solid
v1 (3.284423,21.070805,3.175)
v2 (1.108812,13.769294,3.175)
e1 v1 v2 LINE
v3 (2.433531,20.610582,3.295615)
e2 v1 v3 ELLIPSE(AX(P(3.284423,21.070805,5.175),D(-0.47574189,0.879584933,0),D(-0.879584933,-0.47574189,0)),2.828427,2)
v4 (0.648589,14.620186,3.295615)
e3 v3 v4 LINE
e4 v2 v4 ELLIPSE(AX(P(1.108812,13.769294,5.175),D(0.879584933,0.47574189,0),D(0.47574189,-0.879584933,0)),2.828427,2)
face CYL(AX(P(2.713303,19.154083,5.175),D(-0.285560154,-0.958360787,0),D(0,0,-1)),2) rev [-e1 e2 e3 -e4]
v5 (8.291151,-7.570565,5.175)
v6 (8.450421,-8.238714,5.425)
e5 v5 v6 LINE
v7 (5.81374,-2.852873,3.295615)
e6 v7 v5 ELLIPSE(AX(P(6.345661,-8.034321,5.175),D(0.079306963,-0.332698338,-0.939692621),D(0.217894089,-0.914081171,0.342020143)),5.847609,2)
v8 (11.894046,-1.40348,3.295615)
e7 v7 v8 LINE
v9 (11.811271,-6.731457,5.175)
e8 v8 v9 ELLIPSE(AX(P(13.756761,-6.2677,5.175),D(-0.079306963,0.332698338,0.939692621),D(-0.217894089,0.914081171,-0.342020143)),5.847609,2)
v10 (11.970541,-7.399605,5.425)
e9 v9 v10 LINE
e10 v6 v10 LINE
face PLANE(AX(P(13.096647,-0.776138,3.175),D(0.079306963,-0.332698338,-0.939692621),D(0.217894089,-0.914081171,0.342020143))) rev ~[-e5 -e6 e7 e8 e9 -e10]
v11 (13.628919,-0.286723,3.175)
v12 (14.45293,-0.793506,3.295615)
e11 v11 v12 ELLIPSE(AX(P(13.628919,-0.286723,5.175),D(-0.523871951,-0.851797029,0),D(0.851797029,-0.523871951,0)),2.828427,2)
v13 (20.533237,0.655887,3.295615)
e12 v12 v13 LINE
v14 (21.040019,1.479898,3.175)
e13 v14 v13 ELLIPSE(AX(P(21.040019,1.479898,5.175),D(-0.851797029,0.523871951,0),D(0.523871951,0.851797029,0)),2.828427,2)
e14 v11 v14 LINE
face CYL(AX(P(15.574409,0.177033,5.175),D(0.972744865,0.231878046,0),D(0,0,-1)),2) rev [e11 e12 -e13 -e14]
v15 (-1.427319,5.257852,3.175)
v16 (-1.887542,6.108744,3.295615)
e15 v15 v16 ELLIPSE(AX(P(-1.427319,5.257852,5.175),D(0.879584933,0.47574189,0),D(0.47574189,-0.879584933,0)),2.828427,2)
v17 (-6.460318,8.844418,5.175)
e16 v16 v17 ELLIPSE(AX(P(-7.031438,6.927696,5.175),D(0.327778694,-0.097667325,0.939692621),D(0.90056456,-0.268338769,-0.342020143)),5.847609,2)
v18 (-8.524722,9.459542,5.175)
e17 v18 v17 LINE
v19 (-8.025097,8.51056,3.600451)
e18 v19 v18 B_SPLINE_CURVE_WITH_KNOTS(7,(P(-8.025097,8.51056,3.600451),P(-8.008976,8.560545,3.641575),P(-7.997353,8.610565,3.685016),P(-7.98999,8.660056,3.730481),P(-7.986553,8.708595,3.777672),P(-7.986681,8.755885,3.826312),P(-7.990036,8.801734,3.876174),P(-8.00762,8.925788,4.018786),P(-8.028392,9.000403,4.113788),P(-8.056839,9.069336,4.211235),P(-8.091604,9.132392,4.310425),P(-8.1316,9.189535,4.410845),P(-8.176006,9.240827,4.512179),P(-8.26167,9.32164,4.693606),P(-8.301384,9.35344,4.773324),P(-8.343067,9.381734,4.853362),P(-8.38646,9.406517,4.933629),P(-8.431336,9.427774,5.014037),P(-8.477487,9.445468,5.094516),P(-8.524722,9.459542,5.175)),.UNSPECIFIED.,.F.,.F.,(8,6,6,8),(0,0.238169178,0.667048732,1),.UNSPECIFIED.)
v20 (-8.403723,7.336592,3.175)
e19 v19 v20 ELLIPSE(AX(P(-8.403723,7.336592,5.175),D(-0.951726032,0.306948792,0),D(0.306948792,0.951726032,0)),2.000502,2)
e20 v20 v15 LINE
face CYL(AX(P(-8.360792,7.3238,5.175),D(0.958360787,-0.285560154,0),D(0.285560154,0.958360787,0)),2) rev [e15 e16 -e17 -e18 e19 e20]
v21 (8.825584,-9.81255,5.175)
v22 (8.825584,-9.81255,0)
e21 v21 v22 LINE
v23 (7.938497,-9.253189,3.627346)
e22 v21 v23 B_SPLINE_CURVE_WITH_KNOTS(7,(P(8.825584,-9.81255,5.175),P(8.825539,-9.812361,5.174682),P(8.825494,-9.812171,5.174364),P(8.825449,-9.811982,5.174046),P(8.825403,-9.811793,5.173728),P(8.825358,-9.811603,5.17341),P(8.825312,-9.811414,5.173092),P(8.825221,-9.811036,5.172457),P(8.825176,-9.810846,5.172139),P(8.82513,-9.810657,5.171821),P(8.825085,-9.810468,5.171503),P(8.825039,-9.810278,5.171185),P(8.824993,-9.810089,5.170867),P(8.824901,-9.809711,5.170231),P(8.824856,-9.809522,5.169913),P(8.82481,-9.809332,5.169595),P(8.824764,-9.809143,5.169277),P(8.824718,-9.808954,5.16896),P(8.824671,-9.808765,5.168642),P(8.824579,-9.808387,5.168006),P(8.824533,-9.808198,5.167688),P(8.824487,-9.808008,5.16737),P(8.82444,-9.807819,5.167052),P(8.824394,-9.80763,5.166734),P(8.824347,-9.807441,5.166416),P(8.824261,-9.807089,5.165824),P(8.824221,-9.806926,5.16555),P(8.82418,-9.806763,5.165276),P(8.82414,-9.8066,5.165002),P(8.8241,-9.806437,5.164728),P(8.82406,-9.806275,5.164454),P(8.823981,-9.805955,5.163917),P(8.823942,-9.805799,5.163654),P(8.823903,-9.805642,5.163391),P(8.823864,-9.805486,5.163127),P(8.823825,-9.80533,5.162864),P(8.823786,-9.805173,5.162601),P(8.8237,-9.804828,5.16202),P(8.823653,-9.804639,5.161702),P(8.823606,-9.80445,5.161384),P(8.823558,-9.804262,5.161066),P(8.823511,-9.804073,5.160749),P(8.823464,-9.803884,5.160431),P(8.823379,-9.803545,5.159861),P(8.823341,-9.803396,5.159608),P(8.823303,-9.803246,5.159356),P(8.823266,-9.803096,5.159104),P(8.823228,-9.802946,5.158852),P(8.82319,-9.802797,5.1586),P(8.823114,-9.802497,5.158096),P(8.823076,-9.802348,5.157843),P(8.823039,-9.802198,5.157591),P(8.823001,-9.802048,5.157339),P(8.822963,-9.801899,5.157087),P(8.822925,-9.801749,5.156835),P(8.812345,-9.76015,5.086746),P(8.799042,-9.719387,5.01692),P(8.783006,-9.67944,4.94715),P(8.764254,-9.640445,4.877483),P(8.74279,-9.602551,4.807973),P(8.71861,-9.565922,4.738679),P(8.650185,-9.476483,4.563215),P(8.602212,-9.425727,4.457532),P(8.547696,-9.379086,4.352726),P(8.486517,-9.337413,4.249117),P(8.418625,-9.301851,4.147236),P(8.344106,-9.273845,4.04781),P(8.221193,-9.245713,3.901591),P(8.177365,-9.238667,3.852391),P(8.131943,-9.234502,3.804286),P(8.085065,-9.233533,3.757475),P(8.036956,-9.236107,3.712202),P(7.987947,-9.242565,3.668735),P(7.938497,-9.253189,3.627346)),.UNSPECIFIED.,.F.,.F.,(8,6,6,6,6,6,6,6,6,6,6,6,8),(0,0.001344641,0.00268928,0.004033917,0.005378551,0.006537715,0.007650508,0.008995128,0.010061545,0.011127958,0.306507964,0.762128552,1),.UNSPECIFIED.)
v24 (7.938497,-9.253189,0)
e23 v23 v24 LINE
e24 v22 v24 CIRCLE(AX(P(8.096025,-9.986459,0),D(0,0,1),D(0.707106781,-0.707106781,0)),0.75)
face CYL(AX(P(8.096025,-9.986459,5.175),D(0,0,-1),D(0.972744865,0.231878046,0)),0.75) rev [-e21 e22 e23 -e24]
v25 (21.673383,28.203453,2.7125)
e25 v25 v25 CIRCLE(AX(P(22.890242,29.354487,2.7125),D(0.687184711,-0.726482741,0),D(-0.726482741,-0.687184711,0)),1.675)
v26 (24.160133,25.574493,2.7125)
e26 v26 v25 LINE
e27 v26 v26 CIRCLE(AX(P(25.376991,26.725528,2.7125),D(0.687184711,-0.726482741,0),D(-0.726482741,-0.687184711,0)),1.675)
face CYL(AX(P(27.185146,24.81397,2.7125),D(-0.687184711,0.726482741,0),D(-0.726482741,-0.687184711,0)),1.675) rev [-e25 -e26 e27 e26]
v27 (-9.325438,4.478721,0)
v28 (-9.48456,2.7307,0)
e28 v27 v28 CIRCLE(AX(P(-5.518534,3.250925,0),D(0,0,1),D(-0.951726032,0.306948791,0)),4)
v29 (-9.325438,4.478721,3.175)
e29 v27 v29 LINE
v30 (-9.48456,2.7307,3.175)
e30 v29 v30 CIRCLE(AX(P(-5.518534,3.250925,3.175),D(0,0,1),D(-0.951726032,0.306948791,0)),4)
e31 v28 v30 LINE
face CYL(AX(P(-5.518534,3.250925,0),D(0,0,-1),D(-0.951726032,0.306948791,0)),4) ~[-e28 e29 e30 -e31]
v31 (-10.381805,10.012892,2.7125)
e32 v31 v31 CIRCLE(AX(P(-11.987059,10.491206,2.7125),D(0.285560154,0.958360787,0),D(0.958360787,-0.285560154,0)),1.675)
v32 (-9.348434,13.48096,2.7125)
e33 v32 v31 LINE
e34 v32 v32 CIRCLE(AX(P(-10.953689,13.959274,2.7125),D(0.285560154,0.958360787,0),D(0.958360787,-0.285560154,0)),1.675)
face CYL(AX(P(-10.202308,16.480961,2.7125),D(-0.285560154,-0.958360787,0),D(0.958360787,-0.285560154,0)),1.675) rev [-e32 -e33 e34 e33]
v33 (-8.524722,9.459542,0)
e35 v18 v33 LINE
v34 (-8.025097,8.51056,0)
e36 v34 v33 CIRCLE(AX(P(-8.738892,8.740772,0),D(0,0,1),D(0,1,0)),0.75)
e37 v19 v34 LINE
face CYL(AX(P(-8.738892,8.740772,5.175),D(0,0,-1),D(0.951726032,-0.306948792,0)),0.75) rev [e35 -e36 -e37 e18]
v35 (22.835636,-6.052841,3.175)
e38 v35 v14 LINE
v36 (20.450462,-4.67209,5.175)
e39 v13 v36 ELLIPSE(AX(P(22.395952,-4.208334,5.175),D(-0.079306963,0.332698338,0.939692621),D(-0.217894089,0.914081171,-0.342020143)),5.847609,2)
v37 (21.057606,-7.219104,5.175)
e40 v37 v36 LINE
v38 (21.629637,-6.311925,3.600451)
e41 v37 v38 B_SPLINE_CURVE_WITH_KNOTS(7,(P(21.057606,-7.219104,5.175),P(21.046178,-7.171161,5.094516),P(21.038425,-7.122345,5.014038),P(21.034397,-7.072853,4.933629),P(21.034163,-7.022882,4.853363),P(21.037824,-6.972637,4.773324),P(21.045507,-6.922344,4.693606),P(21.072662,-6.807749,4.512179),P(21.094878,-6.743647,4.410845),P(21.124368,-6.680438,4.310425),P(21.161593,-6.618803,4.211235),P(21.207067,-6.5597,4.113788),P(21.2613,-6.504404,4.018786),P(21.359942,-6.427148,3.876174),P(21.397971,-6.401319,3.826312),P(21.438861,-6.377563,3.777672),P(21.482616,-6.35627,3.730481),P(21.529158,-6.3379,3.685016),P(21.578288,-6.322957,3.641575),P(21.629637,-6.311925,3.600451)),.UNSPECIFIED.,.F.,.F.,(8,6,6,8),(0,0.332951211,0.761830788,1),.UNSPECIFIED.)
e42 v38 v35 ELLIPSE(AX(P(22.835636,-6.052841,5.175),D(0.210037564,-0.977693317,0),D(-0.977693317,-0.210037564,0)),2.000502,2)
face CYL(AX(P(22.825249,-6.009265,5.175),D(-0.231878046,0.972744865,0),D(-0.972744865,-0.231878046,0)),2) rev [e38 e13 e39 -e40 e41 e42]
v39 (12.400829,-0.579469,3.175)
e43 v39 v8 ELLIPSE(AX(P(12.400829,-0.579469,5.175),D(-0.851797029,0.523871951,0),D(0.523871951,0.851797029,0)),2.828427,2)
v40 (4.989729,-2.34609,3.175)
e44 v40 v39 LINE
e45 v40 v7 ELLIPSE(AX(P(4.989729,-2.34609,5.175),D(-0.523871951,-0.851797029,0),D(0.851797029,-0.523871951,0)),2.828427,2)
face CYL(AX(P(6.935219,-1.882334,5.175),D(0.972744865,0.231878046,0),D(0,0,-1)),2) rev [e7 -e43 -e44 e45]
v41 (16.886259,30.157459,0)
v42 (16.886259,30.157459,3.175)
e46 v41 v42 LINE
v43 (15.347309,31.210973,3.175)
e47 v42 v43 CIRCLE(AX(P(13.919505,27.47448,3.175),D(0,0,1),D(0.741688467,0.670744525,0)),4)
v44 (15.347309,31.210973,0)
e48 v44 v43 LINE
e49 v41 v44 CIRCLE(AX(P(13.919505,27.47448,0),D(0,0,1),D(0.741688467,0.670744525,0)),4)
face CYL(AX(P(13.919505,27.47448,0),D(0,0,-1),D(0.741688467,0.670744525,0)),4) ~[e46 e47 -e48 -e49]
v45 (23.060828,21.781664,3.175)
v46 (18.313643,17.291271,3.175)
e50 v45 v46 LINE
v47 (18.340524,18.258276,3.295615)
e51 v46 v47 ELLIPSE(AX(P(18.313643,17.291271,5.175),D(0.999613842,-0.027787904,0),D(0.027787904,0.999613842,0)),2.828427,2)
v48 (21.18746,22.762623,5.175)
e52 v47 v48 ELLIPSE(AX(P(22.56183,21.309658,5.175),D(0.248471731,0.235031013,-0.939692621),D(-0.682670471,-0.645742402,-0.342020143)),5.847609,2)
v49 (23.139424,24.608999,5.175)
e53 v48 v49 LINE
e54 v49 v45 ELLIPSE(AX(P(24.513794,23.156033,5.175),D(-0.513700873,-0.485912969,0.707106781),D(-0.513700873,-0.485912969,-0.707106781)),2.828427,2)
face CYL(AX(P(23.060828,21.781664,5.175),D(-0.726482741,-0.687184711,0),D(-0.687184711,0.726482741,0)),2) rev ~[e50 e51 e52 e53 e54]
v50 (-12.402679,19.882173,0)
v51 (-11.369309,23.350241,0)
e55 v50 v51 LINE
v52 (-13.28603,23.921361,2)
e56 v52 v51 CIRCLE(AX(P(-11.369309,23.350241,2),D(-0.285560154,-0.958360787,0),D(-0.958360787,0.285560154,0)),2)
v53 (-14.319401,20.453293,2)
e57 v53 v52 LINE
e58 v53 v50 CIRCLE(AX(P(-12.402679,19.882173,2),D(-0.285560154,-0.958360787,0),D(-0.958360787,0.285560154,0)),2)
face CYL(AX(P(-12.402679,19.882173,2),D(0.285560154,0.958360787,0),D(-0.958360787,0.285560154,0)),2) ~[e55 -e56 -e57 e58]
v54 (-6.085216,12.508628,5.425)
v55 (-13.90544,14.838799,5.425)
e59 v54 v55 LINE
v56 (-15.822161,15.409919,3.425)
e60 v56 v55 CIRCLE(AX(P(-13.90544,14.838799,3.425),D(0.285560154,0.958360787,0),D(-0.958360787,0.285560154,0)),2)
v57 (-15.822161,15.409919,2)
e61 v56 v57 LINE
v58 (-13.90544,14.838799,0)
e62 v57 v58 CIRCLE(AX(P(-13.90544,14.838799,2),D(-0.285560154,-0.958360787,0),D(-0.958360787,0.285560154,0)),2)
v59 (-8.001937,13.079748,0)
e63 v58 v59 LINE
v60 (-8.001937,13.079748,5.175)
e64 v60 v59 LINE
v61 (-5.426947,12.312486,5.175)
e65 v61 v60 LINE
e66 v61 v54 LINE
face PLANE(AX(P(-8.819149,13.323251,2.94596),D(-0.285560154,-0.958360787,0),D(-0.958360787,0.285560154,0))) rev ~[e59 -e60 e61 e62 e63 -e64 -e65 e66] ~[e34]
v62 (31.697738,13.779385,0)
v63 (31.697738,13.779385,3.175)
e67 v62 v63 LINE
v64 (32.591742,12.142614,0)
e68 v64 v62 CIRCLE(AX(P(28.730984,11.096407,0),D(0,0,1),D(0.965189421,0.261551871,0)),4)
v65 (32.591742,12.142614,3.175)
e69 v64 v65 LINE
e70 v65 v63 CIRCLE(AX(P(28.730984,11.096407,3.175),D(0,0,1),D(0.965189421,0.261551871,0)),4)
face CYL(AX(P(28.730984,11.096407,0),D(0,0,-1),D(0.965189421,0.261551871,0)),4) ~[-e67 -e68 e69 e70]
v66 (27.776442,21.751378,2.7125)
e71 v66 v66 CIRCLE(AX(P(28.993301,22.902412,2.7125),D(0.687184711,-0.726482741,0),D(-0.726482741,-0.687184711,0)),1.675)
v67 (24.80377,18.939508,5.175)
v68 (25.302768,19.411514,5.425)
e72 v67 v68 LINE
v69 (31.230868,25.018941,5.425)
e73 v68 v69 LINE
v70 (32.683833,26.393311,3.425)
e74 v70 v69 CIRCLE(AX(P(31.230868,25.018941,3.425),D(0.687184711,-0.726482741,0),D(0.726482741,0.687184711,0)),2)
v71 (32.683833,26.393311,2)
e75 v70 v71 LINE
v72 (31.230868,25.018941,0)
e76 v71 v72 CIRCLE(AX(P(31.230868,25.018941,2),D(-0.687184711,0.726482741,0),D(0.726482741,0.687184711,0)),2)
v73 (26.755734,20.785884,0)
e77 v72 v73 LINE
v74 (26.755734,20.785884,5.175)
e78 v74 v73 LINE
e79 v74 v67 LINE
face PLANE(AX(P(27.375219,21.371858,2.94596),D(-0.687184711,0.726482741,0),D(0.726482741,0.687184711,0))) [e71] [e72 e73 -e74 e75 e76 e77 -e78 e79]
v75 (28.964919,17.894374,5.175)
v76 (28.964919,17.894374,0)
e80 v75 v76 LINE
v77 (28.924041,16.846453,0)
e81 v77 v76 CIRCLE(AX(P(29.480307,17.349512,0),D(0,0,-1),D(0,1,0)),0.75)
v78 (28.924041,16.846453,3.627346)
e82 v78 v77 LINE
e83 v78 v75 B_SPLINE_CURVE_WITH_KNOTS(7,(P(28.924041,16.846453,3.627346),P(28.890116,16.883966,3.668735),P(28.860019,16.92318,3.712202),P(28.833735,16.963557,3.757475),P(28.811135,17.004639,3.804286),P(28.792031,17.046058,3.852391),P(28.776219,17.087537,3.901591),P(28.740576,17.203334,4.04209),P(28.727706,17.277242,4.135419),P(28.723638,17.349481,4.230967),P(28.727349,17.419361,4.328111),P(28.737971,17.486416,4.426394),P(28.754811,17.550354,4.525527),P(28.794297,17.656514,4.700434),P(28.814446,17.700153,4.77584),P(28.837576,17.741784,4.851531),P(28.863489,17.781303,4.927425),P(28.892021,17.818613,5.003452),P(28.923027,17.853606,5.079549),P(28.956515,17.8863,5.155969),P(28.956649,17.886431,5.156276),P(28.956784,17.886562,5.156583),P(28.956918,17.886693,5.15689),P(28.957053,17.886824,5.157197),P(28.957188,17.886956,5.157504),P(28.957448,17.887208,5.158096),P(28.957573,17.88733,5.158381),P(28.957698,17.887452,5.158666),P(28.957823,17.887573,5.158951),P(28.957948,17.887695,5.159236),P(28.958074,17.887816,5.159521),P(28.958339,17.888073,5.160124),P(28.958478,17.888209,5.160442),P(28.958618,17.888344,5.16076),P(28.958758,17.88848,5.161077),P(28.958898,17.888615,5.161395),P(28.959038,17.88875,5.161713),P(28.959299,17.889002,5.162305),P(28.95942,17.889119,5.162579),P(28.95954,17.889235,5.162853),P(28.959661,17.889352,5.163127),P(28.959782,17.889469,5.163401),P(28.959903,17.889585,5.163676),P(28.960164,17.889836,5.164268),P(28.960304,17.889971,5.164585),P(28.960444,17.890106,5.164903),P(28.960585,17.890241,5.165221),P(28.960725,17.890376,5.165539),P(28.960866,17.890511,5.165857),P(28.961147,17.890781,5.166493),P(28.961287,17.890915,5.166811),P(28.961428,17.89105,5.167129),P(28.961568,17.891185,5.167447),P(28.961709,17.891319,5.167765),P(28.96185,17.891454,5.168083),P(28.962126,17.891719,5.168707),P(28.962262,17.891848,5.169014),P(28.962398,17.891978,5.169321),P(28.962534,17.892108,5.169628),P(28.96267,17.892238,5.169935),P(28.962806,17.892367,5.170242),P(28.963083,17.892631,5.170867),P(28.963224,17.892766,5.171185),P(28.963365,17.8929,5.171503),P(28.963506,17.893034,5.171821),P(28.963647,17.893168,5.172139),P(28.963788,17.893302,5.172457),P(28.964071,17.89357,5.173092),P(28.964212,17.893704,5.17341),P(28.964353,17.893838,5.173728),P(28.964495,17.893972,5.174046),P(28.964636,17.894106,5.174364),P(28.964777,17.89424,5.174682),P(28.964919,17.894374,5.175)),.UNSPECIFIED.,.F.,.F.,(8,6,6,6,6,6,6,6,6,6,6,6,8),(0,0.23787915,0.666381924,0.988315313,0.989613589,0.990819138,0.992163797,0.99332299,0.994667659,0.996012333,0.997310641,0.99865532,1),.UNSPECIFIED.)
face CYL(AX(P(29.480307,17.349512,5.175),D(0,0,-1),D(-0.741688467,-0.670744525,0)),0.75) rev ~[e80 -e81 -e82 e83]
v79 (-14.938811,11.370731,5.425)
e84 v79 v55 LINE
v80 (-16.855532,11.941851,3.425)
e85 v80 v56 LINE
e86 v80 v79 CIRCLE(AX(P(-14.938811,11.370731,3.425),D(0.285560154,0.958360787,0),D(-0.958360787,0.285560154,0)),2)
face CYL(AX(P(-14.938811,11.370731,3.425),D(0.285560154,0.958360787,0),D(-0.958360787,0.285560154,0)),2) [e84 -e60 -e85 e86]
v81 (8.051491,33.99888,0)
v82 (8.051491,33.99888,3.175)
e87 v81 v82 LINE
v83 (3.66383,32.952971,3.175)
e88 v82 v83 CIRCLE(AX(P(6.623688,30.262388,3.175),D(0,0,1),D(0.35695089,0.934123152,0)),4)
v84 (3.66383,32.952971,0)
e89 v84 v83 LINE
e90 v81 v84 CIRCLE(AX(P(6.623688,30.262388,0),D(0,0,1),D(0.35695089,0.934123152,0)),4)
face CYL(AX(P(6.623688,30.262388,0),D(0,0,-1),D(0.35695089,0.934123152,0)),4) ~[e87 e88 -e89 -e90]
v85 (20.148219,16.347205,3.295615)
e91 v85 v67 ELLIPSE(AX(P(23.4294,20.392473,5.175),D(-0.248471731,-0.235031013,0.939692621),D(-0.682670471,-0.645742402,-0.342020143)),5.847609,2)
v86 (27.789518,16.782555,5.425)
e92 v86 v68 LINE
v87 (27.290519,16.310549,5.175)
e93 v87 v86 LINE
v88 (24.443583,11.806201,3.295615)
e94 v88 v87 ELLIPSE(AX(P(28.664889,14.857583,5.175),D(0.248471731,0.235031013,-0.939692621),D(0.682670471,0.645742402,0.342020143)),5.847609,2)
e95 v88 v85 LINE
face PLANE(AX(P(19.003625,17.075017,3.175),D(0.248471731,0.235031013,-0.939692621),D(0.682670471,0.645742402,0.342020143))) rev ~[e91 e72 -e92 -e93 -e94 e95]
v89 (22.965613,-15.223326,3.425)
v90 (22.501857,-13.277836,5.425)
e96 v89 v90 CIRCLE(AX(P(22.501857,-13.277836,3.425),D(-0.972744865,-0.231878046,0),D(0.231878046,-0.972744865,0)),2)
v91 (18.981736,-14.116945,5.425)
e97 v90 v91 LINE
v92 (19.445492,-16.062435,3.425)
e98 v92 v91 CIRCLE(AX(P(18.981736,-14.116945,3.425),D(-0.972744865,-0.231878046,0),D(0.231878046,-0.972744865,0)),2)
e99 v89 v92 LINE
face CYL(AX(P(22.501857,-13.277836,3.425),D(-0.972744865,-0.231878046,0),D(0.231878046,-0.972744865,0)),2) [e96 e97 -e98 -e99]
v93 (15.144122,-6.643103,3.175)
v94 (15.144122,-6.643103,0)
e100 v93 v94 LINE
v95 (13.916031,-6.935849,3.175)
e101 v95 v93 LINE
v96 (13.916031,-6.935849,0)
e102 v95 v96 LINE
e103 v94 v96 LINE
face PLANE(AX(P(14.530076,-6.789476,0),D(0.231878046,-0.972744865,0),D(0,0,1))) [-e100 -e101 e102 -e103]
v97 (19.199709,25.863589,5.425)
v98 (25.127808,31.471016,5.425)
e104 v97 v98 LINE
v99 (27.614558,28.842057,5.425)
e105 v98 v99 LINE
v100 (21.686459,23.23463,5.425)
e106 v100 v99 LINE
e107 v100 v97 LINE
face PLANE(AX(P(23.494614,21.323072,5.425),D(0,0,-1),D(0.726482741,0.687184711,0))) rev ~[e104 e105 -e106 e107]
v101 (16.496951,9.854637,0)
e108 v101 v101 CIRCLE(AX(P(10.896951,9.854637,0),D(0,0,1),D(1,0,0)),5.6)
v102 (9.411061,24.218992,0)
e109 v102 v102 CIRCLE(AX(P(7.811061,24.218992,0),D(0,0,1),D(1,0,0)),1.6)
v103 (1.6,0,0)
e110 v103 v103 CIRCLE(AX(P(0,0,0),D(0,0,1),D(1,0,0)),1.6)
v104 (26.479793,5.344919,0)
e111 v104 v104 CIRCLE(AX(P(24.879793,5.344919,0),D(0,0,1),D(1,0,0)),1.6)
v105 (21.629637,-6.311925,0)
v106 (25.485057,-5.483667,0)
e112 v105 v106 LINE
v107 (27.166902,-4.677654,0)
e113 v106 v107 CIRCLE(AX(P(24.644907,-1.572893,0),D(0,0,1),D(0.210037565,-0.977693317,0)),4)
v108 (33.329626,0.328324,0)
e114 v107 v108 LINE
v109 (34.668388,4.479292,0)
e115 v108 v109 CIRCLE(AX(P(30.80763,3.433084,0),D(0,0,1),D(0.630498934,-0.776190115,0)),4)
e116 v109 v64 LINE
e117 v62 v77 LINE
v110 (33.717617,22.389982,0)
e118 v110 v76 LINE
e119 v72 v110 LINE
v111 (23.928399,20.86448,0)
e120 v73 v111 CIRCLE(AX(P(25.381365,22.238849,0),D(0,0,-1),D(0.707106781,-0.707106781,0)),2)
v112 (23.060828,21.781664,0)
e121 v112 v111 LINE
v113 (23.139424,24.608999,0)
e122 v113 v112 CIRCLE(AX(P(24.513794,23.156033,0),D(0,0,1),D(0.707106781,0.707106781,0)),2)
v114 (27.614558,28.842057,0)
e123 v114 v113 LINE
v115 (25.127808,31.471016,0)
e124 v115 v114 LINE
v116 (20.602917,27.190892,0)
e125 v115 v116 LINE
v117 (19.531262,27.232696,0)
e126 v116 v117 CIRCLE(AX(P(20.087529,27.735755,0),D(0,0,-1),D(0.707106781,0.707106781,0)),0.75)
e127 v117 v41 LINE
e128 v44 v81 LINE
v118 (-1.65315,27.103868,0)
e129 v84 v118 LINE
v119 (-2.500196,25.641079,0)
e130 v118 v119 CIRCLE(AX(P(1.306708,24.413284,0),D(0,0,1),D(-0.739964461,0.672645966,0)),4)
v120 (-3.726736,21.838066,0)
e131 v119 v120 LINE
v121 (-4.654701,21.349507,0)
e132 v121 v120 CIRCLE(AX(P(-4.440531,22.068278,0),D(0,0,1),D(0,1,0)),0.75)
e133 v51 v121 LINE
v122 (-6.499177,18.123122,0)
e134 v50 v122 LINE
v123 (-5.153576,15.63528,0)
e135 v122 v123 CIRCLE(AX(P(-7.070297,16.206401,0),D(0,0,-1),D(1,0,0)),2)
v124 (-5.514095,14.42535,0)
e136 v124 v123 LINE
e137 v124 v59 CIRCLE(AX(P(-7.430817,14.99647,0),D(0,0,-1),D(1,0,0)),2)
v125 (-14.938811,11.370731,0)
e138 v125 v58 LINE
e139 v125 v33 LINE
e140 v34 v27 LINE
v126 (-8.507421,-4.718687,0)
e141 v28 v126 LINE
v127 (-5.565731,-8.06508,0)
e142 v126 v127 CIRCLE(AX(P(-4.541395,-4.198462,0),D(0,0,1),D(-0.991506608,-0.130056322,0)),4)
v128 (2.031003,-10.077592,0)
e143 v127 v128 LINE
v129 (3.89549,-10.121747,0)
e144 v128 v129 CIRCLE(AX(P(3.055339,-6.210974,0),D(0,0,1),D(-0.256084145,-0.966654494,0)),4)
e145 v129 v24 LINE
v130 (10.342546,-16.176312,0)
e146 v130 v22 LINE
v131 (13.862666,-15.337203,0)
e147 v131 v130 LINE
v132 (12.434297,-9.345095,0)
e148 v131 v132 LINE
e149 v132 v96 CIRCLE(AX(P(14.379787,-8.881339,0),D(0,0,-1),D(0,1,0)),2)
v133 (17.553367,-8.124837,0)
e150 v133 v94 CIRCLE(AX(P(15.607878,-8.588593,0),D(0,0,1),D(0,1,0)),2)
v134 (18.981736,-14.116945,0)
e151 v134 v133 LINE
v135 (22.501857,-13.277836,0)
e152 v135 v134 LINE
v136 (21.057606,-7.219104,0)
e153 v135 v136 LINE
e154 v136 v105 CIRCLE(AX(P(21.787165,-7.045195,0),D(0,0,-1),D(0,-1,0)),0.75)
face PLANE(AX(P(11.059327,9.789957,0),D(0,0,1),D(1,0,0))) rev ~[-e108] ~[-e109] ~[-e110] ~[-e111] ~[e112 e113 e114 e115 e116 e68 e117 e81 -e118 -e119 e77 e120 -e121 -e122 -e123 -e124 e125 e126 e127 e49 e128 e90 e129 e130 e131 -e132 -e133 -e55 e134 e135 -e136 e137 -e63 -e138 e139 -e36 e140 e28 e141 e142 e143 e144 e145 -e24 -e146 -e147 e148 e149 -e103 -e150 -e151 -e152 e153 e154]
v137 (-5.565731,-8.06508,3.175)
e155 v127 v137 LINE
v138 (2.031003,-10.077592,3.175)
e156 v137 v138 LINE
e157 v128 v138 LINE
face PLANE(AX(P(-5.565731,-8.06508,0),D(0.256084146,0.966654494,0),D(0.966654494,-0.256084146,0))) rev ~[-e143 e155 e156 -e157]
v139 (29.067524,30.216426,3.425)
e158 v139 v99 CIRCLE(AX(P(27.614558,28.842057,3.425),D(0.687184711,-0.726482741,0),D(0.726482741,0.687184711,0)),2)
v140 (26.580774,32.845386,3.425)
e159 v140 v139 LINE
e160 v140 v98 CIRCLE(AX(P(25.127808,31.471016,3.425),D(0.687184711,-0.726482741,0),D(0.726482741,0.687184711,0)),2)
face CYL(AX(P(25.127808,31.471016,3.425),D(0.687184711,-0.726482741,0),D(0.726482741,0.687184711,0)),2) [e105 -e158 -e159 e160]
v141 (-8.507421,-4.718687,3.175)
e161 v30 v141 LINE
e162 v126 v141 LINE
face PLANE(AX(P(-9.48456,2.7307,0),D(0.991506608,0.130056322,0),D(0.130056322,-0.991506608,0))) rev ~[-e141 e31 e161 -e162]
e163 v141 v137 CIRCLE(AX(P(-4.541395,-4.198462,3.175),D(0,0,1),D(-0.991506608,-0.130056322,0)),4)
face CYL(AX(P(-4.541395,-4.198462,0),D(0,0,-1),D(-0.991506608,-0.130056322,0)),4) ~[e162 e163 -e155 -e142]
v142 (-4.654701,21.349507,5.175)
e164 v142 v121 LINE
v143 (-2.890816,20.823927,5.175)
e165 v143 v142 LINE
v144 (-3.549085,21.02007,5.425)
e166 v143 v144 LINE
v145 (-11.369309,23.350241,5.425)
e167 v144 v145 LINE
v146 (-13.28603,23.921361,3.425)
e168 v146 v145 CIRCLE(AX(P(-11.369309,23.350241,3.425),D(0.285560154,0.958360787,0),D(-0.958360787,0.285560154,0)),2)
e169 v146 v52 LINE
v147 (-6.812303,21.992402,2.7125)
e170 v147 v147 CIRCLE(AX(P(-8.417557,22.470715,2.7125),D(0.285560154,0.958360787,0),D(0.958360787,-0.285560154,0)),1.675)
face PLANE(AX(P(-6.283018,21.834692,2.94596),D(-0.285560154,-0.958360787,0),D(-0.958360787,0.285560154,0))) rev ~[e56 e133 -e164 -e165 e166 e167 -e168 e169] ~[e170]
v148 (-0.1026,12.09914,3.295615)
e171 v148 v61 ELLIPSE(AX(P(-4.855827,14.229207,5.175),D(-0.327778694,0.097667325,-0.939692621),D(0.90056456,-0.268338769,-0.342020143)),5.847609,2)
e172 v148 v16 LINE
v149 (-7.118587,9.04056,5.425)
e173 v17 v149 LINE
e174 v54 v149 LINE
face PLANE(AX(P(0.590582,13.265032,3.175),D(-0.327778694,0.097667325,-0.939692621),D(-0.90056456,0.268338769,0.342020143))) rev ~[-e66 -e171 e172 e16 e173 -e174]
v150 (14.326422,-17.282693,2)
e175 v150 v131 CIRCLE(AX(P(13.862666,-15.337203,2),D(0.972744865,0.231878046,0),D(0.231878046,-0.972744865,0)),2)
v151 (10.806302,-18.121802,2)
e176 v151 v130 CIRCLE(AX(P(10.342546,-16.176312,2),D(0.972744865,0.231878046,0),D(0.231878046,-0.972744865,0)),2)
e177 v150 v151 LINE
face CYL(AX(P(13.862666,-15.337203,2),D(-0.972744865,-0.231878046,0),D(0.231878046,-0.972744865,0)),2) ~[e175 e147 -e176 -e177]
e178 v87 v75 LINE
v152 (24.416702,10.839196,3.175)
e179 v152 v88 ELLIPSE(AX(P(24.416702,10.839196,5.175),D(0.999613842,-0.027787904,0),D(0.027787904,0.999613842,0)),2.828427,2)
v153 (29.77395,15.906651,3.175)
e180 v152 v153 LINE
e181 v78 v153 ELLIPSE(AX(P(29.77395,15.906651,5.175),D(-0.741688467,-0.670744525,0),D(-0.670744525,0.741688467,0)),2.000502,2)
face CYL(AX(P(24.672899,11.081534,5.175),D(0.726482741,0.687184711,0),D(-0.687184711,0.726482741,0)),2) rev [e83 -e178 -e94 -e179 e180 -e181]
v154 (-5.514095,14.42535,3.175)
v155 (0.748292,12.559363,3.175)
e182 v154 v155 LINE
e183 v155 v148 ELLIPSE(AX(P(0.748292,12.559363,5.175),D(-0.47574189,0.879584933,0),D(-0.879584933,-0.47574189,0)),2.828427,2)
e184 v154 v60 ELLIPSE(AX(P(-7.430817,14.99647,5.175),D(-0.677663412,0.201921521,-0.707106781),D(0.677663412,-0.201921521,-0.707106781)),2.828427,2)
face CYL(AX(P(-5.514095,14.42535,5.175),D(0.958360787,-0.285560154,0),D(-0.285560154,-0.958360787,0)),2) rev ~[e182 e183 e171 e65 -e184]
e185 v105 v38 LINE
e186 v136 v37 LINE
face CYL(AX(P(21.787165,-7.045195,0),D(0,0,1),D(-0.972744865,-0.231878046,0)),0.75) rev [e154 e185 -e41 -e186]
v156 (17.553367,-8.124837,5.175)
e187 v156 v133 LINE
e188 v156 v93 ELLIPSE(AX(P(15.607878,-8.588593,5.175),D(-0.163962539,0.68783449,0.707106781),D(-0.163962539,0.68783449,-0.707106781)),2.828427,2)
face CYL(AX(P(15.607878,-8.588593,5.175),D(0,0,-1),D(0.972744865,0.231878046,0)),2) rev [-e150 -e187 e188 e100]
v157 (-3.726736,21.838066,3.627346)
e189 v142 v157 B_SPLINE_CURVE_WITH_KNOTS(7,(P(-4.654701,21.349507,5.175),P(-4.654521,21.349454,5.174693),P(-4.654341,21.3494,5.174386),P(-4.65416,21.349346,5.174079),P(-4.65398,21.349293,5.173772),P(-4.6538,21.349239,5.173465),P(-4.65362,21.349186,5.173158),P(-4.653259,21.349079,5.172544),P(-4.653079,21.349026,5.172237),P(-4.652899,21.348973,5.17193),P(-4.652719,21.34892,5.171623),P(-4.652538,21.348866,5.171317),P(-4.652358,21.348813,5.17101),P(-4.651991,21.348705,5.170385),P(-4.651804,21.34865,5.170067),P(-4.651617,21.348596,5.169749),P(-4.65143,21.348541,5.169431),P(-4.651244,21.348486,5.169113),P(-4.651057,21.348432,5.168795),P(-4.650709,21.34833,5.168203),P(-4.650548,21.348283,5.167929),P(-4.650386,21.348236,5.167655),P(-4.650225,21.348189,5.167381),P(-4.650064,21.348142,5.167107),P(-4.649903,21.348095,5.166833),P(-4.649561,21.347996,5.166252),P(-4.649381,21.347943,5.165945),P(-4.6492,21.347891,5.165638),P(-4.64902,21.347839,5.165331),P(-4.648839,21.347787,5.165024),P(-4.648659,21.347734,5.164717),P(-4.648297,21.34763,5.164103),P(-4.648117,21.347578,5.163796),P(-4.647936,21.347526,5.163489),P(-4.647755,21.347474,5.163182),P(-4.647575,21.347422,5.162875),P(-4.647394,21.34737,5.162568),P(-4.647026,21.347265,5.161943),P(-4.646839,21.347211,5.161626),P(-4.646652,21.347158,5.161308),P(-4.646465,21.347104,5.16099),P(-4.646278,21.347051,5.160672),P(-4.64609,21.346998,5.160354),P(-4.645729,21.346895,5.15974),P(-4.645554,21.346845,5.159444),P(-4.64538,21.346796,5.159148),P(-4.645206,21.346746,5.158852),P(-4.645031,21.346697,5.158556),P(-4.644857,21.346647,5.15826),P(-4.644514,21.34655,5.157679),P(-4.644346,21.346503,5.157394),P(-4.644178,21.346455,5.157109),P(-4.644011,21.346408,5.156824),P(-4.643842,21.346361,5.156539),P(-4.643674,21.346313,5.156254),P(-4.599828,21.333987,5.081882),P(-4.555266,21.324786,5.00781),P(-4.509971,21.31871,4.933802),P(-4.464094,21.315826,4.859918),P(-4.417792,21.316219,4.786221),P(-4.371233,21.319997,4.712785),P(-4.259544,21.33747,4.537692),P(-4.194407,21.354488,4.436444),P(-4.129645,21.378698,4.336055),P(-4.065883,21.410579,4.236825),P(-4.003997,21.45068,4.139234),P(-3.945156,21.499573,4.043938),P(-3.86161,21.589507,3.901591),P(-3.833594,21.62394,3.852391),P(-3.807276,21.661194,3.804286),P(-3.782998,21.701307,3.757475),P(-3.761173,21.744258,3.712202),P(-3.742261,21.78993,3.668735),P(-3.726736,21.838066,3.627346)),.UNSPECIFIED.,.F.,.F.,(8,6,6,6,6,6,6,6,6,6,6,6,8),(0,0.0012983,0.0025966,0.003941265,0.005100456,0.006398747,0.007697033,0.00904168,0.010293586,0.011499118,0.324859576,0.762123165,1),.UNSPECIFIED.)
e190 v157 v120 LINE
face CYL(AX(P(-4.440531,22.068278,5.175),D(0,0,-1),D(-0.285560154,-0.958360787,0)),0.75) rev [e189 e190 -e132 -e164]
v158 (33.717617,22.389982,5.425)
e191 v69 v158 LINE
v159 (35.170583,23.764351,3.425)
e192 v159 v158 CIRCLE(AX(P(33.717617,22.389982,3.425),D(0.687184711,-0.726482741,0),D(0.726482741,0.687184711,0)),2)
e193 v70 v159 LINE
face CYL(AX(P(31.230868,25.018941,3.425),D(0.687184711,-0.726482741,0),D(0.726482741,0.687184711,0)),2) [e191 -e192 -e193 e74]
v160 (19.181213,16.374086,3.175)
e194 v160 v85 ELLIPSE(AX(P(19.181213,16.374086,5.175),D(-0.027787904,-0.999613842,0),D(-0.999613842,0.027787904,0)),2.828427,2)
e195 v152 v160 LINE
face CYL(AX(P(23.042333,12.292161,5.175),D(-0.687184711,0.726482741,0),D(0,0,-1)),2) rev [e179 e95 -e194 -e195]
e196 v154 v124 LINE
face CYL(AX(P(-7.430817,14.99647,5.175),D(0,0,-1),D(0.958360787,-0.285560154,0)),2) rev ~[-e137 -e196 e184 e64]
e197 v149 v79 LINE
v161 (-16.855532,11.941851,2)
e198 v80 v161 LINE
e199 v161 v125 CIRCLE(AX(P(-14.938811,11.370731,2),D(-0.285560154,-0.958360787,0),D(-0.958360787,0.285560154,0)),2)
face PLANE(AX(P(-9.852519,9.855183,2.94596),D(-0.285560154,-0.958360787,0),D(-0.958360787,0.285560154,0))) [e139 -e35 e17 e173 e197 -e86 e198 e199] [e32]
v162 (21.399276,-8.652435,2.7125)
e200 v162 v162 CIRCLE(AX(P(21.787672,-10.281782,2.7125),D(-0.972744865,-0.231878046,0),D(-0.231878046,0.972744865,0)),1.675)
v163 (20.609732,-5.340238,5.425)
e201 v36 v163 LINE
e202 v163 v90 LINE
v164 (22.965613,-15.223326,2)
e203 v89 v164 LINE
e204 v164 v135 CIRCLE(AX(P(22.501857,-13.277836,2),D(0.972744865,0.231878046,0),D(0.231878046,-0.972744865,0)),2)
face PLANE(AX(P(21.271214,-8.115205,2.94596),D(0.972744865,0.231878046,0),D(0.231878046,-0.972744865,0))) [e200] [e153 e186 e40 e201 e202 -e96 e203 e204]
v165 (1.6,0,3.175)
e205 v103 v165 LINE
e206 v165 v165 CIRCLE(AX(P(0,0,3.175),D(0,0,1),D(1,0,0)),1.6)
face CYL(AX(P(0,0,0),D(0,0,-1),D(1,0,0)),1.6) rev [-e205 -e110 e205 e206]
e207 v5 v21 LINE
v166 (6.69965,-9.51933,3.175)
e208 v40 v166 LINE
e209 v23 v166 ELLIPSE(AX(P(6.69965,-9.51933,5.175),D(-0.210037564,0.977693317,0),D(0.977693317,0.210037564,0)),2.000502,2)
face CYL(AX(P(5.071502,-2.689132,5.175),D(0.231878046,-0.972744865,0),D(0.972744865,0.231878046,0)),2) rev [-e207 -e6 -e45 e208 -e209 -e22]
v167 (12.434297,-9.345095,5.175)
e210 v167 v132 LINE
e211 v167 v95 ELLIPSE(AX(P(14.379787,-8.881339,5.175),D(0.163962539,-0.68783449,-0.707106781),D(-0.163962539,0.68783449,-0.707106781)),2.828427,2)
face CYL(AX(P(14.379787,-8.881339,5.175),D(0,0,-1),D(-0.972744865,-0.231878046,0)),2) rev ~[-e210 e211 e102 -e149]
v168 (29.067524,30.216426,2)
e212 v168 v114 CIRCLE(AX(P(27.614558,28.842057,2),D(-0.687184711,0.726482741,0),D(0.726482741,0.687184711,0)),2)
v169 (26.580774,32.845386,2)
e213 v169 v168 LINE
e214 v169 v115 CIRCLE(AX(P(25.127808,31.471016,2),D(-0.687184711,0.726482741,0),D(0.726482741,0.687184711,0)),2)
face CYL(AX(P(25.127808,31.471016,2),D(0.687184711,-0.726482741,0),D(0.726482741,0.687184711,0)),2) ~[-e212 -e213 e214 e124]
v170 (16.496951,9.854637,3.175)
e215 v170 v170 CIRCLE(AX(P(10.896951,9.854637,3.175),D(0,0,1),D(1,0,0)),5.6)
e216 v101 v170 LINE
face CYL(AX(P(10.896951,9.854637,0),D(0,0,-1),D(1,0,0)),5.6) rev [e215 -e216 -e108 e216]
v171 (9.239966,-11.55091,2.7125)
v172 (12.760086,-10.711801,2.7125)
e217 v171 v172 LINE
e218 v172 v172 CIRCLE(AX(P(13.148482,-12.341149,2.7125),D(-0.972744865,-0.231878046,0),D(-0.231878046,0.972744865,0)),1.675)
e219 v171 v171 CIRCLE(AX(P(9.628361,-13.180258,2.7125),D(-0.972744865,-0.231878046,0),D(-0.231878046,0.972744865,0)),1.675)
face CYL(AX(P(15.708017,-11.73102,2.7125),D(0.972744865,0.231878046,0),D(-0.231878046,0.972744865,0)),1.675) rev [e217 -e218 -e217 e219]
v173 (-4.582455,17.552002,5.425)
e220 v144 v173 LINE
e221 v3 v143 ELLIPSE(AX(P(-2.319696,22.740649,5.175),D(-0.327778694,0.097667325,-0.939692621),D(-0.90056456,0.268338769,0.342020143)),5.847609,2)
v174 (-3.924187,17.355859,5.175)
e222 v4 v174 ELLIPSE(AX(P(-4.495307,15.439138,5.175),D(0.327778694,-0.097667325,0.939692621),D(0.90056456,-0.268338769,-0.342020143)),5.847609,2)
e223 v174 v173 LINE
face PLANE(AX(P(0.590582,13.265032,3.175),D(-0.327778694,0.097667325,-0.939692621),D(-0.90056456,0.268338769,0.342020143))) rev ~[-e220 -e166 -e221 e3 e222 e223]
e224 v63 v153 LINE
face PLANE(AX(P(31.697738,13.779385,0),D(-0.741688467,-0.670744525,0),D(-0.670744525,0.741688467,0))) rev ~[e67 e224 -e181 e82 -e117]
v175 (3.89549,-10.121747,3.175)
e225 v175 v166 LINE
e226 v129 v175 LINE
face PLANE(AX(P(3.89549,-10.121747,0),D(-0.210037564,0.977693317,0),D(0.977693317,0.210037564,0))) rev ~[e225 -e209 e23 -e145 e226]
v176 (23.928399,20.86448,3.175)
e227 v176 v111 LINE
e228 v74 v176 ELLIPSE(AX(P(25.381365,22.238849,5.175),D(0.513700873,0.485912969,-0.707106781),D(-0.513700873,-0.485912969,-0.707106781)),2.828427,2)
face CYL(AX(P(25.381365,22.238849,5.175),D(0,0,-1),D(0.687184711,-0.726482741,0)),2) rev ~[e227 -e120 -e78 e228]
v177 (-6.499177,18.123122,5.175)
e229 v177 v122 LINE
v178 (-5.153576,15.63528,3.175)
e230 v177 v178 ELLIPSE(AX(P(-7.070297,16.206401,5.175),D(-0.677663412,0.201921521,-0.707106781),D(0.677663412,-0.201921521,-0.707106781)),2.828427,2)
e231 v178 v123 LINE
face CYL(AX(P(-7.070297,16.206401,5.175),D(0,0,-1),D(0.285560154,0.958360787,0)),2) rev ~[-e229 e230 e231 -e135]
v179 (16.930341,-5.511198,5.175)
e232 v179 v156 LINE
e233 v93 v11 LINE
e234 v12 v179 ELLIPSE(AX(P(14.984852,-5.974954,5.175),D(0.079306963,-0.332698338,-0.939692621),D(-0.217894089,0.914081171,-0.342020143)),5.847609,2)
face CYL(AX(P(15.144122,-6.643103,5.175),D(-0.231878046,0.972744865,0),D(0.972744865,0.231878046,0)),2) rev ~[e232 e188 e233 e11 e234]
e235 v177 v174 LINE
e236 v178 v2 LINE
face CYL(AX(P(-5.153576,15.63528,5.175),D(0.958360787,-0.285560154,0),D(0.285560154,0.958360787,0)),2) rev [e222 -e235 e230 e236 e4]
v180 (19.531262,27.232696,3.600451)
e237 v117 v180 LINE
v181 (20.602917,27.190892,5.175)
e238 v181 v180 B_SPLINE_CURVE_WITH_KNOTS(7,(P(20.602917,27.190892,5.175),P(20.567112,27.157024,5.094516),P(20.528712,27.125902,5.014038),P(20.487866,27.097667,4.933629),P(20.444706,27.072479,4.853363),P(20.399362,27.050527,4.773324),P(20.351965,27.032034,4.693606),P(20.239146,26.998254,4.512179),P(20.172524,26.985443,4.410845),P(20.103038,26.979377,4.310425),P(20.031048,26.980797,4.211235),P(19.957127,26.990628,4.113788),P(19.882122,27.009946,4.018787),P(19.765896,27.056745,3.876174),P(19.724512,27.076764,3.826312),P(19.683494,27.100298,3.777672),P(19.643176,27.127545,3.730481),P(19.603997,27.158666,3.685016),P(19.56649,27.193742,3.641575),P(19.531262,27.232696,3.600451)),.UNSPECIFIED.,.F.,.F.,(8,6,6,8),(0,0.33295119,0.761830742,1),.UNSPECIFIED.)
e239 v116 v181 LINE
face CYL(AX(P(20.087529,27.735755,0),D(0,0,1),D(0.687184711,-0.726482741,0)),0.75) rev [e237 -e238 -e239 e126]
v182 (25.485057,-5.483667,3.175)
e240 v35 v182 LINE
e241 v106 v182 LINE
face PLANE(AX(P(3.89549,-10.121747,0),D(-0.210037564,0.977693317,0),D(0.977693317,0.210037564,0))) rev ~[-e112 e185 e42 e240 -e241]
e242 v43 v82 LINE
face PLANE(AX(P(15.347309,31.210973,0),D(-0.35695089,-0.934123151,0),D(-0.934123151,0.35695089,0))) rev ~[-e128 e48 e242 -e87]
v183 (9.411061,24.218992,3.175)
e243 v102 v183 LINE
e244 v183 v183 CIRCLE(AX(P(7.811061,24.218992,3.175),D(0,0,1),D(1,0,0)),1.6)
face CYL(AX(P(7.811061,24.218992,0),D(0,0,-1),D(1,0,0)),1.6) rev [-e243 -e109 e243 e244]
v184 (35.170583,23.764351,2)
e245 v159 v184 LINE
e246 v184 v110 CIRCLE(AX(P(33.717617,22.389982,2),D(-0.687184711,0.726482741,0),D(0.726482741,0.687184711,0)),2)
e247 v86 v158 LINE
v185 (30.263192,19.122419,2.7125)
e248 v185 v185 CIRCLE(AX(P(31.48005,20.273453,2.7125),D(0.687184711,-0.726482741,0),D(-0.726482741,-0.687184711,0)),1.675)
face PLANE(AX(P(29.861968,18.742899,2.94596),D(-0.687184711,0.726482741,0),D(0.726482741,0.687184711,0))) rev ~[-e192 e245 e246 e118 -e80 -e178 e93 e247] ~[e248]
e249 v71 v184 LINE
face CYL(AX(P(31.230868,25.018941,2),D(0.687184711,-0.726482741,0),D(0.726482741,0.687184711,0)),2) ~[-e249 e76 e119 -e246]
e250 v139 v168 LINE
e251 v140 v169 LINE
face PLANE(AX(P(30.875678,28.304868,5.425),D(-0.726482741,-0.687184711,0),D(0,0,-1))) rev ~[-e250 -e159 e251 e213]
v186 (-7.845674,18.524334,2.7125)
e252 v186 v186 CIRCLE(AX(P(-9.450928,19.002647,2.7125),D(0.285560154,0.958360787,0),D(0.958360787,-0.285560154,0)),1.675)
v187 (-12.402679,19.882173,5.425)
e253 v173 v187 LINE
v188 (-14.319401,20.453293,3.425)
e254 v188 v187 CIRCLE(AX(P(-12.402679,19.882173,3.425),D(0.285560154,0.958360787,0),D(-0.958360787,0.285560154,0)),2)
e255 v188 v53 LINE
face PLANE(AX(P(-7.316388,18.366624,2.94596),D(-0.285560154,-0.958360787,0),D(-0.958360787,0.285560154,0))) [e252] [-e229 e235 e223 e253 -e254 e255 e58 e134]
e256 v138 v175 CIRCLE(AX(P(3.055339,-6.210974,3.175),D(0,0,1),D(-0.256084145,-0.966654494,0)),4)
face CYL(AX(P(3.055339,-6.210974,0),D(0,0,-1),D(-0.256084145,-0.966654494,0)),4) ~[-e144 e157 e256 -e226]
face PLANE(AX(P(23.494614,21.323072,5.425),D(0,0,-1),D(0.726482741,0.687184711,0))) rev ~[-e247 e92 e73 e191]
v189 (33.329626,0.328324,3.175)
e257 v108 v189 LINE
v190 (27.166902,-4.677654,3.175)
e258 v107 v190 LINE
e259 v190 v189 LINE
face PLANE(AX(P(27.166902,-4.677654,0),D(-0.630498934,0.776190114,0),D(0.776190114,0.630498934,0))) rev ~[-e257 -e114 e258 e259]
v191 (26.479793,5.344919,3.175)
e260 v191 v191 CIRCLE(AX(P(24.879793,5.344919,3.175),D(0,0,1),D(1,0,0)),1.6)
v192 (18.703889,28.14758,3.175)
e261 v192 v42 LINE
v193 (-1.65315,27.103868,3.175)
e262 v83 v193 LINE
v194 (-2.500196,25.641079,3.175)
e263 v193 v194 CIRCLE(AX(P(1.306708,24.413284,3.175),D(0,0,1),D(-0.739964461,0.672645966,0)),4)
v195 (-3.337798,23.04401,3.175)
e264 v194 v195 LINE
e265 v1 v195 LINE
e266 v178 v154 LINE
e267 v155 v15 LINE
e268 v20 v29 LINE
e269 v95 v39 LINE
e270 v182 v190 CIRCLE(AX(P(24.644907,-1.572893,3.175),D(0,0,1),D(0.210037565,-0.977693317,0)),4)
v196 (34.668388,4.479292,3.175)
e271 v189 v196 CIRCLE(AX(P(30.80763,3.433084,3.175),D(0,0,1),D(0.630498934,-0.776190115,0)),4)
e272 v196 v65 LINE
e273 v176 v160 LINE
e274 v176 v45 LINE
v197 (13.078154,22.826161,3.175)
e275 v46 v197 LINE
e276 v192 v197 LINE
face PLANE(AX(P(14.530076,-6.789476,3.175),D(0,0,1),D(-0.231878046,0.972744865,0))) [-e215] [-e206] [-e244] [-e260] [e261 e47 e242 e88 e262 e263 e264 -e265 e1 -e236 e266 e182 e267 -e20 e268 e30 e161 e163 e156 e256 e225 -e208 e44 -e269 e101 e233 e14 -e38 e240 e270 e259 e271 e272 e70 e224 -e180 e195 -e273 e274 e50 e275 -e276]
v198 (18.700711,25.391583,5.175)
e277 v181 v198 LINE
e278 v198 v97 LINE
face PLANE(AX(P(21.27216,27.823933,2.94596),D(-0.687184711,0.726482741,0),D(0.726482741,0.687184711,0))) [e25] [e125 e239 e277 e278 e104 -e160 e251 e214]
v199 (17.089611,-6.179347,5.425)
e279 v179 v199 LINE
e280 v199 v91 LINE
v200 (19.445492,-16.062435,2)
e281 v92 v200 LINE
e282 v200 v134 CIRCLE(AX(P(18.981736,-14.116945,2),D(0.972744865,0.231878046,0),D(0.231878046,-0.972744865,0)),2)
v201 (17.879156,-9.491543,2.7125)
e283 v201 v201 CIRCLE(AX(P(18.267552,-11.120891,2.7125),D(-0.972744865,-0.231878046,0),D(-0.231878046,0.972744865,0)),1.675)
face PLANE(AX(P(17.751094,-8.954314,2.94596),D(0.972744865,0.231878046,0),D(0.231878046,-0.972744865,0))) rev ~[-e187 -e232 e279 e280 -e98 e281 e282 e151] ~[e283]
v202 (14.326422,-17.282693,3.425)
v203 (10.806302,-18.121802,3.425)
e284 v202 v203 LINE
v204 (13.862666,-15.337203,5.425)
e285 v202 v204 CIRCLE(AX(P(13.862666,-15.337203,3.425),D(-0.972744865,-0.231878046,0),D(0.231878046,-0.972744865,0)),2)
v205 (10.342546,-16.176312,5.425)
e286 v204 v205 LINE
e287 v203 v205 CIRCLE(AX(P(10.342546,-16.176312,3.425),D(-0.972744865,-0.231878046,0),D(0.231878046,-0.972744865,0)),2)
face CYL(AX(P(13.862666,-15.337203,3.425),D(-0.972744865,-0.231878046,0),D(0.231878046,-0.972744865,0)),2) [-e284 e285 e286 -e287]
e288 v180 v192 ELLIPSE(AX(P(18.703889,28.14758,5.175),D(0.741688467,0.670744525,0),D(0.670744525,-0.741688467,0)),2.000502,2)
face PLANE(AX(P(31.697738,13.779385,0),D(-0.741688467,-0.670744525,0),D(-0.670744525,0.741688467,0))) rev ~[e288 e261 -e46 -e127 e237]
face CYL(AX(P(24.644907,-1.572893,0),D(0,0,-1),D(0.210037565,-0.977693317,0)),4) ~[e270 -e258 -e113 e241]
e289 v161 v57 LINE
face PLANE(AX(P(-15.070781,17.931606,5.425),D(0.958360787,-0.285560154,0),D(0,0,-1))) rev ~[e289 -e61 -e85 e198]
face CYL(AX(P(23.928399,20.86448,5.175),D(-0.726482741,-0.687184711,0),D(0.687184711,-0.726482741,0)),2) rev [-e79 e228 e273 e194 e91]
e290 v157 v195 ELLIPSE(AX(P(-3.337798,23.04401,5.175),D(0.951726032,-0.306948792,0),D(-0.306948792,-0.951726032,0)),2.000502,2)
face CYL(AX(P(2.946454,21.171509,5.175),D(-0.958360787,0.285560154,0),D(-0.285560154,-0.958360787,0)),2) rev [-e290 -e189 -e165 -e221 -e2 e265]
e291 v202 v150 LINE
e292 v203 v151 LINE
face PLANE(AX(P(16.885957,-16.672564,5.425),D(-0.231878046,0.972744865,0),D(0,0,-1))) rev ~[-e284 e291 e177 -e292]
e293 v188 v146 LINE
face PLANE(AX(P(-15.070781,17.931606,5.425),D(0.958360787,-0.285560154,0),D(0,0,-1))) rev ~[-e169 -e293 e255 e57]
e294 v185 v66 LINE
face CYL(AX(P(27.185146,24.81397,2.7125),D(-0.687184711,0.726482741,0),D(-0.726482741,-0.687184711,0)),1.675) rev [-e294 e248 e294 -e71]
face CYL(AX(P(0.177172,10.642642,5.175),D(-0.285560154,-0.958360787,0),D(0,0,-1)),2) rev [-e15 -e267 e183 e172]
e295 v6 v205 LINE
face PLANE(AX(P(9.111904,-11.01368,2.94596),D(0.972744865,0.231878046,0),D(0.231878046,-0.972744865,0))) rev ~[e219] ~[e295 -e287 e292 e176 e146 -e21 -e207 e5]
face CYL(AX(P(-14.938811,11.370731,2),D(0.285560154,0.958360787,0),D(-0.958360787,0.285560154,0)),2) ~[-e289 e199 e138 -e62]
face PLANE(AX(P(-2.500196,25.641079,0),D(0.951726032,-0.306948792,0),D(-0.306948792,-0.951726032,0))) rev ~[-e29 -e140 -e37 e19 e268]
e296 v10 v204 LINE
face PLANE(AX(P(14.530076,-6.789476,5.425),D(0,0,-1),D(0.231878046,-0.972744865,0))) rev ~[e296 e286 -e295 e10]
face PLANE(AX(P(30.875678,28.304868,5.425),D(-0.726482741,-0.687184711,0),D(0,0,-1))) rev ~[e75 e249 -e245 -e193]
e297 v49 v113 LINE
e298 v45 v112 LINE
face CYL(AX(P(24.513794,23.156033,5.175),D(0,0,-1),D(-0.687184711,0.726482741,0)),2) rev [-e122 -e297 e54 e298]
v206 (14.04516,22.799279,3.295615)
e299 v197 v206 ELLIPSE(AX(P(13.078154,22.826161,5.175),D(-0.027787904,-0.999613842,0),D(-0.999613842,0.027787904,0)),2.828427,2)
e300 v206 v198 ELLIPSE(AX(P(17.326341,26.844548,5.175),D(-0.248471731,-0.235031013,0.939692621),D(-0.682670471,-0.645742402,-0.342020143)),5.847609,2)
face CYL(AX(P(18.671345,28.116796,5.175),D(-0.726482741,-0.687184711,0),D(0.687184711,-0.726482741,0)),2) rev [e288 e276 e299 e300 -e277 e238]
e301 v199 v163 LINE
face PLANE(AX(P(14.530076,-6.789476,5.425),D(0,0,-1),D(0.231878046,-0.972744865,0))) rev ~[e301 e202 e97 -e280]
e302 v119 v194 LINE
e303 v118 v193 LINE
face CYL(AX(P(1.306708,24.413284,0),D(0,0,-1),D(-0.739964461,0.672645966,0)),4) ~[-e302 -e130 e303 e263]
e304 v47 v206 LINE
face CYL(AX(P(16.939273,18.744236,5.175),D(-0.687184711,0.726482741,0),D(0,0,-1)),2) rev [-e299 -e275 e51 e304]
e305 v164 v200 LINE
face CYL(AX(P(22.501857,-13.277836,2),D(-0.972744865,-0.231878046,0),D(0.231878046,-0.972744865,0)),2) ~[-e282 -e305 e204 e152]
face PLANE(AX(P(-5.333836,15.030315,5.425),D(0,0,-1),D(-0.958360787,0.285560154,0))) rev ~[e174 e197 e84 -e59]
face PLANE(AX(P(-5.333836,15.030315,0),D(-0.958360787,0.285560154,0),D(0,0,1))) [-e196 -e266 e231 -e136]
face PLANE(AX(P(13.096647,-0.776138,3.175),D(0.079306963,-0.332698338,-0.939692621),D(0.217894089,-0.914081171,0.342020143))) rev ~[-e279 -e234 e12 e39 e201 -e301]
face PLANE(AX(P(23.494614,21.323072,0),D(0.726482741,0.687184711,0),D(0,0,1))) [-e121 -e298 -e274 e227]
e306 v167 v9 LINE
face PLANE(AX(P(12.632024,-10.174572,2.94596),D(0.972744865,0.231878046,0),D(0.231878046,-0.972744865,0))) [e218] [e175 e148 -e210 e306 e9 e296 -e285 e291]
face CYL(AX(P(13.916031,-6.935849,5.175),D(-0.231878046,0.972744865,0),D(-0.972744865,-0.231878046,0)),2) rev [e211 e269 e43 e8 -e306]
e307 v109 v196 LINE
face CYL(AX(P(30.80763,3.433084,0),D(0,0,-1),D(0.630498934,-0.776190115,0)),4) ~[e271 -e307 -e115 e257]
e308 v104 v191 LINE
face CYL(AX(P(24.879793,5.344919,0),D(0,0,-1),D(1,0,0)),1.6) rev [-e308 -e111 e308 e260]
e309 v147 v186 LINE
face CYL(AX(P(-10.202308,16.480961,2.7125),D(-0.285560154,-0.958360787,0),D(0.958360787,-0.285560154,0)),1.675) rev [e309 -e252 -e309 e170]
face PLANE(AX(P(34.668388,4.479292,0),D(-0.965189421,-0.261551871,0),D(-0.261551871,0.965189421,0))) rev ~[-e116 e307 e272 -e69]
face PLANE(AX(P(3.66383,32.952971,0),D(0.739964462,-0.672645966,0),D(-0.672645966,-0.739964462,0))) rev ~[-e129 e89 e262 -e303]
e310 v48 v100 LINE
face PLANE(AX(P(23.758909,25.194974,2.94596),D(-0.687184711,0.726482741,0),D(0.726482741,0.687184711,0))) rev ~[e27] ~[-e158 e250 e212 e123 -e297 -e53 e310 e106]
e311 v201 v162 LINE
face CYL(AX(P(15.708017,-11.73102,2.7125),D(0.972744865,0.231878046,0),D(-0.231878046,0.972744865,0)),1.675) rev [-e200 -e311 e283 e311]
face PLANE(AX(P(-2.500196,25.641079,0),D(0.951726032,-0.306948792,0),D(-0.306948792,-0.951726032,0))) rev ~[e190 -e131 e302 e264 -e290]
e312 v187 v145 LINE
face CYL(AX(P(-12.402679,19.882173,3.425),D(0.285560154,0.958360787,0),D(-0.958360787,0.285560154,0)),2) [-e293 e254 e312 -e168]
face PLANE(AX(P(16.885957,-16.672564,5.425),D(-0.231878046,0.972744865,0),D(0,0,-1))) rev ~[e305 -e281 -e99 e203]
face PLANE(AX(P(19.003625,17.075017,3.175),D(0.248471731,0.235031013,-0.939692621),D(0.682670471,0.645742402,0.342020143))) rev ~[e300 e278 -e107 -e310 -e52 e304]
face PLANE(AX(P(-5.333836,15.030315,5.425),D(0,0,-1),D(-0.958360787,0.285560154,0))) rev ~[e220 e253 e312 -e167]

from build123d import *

# Parameters (mm, degrees)
SKETCH1_R                = 1.6
SKETCH1_R_2              = 5.6
BOSS_EXTRUDE1_DEPTH      = 3.175
SKETCH4_R                = 1.675
BOSS_EXTRUDE3_DEPTH      = 6.25
SKETCH4_2_R              = 1.675
CUT_EXTRUDE2_DEPTH       = 2.63125
FILLET1_R                = 2
FILLET2_R                = 2
FILLET3_R                = 2
CIRPATTERN2_COUNT        = 3
FILLET1_OF_CIRPATTERN2_R = 2
FILLET2_OF_CIRPATTERN2_R = 2
FILLET3_OF_CIRPATTERN2_R = 2
FILLET5_R                = 0.75


with BuildPart() as part:
    # Sketch1 → Boss-Extrude1 (new body)
    with BuildSketch(Plane.XY):
        with BuildLine():
            Line((15.347308801, 31.210973101), (8.051491314, 33.998880179))
            ThreePointArc((8.051491314, 33.998880179), (5.696175566, 34.15336703), (3.663829908, 32.952971436))
            Line((3.663829908, 32.952971436), (-1.653149933, 27.103867562))
            ThreePointArc((-1.653149933, 27.103867562), (-2.154824203, 26.417727613), (-2.500196213, 25.641078866))
            Line((-2.500196213, 25.641078866), (-9.325438013, 4.478720632))
            ThreePointArc((-9.325438013, 4.478720632), (-9.502063256, 3.613546149), (-9.484560317, 2.730700176))
            Line((-9.484560317, 2.730700176), (-8.507421128, -4.718687488))
            ThreePointArc((-8.507421128, -4.718687488), (-7.54564448, -6.839386894), (-5.565731281, -8.065080174))
            Line((-5.565731281, -8.065080174), (2.031002829, -10.077591551))
            ThreePointArc((2.031002829, -10.077591551), (2.960636861, -10.209852347), (3.895489669, -10.121746843))
            Line((3.895489669, -10.121746843), (25.485057009, -5.483666514))
            ThreePointArc((25.485057009, -5.483666514), (26.373611638, -5.180049941), (27.166902489, -4.677653705))
            Line((27.166902489, -4.677653705), (33.329625608, 0.328323939))
            ThreePointArc((33.329625608, 0.328323939), (34.614533997, 2.205289229), (34.668387555, 4.479291881))
            Line((34.668387555, 4.479291881), (32.591741985, 12.142614371))
            ThreePointArc((32.591741985, 12.142614371), (32.241466178, 13.013831458), (31.697738169, 13.779384986))
            Line((31.697738169, 13.779384986), (16.88625911, 30.157458595))
            ThreePointArc((16.88625911, 30.157458595), (16.17904213, 30.77516119), (15.347308801, 31.210973101))
        make_face()
        with Locations((24.879793107, 5.344918551)):
            Circle(SKETCH1_R, mode=Mode.SUBTRACT)
        with Locations((7.811061307, 24.218992148)):
            Circle(SKETCH1_R, mode=Mode.SUBTRACT)
        Circle(SKETCH1_R, mode=Mode.SUBTRACT)
        with Locations((10.896951472, 9.8546369)):
            Circle(SKETCH1_R_2, mode=Mode.SUBTRACT)
    extrude(amount=BOSS_EXTRUDE1_DEPTH)

    # Sketch4 → Boss-Extrude3 (add, symmetric)
    with BuildSketch(Plane(origin=(0.449621982, -0.475334512, 0), x_dir=(-0.726482741, -0.687184711, 0), z_dir=(0.687184711, -0.726482741, 0))):
        Polygon((-31.72132028, 0), (-31.72132028, -3.175), (-25.539496086, -3.175), (-31.72132028, -5.425), (-41.88132028, -5.425), (-41.88132028, 0), align=None)
        with Locations((-36.80132028, -2.7125)):
            Circle(SKETCH4_R, mode=Mode.SUBTRACT)
    boss_extrude3 = extrude(amount=BOSS_EXTRUDE3_DEPTH, both=True)

    # Sketch4<2> → Cut-Extrude2 (cut, symmetric)
    with BuildSketch(Plane(origin=(0.449621982, -0.475334512, 0), x_dir=(-0.726482741, -0.687184711, 0), z_dir=(0.687184711, -0.726482741, 0))):
        Polygon((-31.72132028, 0), (-31.72132028, -3.175), (-25.539496086, -3.175), (-31.72132028, -5.425), (-41.88132028, -5.425), (-41.88132028, 0), align=None)
        with Locations((-36.80132028, -2.7125)):
            Circle(SKETCH4_2_R, mode=Mode.SUBTRACT)
    cut_extrude2 = extrude(amount=CUT_EXTRUDE2_DEPTH, both=True, mode=Mode.SUBTRACT)

    # Fillet1
    fillet1_edges = [part.edges().sort_by_distance(p)[0] for p in [
        (19.440964609, 21.110601986, 3.175),
        (23.057274153, 17.287486564, 3.175),
        (25.865326768, 14.96244967, 3.175),
        (17.377217607, 24.139682361, 3.175),
        (22.0551547, 13.848979318, 3.175),
        (15.952095481, 20.301054157, 3.175),
    ]]
    fillet(fillet1_edges, radius=FILLET1_R)

    # Fillet2
    fillet2_edges = [part.edges().sort_by_distance(p)[0] for p in [
        (25.302768444, 19.411514101, 1.5875),
        (21.6864589, 23.234629523, 1.5875),
    ]]
    fillet(fillet2_edges, radius=FILLET2_R)

    # Fillet3
    fillet3_edges = [part.edges().sort_by_distance(p)[0] for p in [
        (33.927207925, 25.078831062, 0),
        (33.927207925, 25.078831062, 5.425),
        (27.824148706, 31.530905901, 5.425),
        (27.824148706, 31.530905901, 0),
    ]]
    fillet(fillet3_edges, radius=FILLET3_R)

    # CirPattern2: Boss-Extrude3, Cut-Extrude2 ×3 about axis
    cirpattern2_axis = Axis((10.896951472, 9.8546369, 0), (0, 0, 1))
    for i in range(1, CIRPATTERN2_COUNT):
        add(boss_extrude3.rotate(cirpattern2_axis, i * 360 / CIRPATTERN2_COUNT))
        add(cut_extrude2.rotate(cirpattern2_axis, i * 360 / CIRPATTERN2_COUNT), mode=Mode.SUBTRACT)

    # Fillet1 of CirPattern2
    fillet1_of_cirpattern2_edges = [part.edges().sort_by_distance(p)[0] for p in [
        (-3.123006806, 11.625986784, 3.175),
        (-1.620246501, 16.669360428, 3.175),
        (-1.010731793, 20.263723774, 3.175),
        (-4.71439386, 8.324189266, 3.175),
        (1.858647852, 17.520753147, 3.175),
        (-0.677483256, 9.009311403, 3.175),
        (16.372896612, -3.172678071, 3.175),
        (11.253826762, -4.392936293, 3.175),
        (7.836259441, -5.662262745, 3.175),
        (20.028030667, -2.899960928, 3.175),
        (8.777051863, -1.805821766, 3.175),
        (17.41624219, 0.253545139, 3.175),
    ]]
    fillet(fillet1_of_cirpattern2_edges, radius=FILLET1_OF_CIRPATTERN2_R)

    # Fillet2 of CirPattern2
    fillet2_of_cirpattern2_edges = [part.edges().sort_by_distance(p)[0] for p in [
        (-4.582455452, 17.552001759, 1.5875),
        (-6.085215757, 12.508628115, 1.5875),
        (11.970541423, -7.399605162, 1.5875),
        (17.089611272, -6.17934694, 1.5875),
    ]]
    fillet(fillet2_of_cirpattern2_edges, radius=FILLET2_OF_CIRPATTERN2_R)

    # Fillet3 of CirPattern2
    fillet3_of_cirpattern2_edges = [part.edges().sort_by_distance(p)[0] for p in [
        (-13.802715652, 22.187326963, 0),
        (-13.802715652, 22.187326963, 5.425),
        (-16.33884676, 13.675885219, 5.425),
        (-16.33884676, 13.675885219, 0),
        (12.566362141, -17.702247326, 0),
        (12.566362141, -17.702247326, 5.425),
        (21.205552469, -15.642880421, 5.425),
        (21.205552469, -15.642880421, 0),
    ]]
    fillet(fillet3_of_cirpattern2_edges, radius=FILLET3_OF_CIRPATTERN2_R)

    # Fillet5
    fillet5_edges = [part.edges().sort_by_distance(p)[0] for p in [
        (-7.789671487, 9.240521362, 1.5875),
        (-3.951849266, 21.140080535, 1.5875),
        (20.879758905, -6.473021336, 1.5875),
        (8.655527257, -9.099149384, 1.5875),
        (20.045714571, 26.663830856, 2.5875),
        (28.432123998, 17.390399731, 2.5875),
    ]]
    fillet(fillet5_edges, radius=FILLET5_R)


solid = part.part
